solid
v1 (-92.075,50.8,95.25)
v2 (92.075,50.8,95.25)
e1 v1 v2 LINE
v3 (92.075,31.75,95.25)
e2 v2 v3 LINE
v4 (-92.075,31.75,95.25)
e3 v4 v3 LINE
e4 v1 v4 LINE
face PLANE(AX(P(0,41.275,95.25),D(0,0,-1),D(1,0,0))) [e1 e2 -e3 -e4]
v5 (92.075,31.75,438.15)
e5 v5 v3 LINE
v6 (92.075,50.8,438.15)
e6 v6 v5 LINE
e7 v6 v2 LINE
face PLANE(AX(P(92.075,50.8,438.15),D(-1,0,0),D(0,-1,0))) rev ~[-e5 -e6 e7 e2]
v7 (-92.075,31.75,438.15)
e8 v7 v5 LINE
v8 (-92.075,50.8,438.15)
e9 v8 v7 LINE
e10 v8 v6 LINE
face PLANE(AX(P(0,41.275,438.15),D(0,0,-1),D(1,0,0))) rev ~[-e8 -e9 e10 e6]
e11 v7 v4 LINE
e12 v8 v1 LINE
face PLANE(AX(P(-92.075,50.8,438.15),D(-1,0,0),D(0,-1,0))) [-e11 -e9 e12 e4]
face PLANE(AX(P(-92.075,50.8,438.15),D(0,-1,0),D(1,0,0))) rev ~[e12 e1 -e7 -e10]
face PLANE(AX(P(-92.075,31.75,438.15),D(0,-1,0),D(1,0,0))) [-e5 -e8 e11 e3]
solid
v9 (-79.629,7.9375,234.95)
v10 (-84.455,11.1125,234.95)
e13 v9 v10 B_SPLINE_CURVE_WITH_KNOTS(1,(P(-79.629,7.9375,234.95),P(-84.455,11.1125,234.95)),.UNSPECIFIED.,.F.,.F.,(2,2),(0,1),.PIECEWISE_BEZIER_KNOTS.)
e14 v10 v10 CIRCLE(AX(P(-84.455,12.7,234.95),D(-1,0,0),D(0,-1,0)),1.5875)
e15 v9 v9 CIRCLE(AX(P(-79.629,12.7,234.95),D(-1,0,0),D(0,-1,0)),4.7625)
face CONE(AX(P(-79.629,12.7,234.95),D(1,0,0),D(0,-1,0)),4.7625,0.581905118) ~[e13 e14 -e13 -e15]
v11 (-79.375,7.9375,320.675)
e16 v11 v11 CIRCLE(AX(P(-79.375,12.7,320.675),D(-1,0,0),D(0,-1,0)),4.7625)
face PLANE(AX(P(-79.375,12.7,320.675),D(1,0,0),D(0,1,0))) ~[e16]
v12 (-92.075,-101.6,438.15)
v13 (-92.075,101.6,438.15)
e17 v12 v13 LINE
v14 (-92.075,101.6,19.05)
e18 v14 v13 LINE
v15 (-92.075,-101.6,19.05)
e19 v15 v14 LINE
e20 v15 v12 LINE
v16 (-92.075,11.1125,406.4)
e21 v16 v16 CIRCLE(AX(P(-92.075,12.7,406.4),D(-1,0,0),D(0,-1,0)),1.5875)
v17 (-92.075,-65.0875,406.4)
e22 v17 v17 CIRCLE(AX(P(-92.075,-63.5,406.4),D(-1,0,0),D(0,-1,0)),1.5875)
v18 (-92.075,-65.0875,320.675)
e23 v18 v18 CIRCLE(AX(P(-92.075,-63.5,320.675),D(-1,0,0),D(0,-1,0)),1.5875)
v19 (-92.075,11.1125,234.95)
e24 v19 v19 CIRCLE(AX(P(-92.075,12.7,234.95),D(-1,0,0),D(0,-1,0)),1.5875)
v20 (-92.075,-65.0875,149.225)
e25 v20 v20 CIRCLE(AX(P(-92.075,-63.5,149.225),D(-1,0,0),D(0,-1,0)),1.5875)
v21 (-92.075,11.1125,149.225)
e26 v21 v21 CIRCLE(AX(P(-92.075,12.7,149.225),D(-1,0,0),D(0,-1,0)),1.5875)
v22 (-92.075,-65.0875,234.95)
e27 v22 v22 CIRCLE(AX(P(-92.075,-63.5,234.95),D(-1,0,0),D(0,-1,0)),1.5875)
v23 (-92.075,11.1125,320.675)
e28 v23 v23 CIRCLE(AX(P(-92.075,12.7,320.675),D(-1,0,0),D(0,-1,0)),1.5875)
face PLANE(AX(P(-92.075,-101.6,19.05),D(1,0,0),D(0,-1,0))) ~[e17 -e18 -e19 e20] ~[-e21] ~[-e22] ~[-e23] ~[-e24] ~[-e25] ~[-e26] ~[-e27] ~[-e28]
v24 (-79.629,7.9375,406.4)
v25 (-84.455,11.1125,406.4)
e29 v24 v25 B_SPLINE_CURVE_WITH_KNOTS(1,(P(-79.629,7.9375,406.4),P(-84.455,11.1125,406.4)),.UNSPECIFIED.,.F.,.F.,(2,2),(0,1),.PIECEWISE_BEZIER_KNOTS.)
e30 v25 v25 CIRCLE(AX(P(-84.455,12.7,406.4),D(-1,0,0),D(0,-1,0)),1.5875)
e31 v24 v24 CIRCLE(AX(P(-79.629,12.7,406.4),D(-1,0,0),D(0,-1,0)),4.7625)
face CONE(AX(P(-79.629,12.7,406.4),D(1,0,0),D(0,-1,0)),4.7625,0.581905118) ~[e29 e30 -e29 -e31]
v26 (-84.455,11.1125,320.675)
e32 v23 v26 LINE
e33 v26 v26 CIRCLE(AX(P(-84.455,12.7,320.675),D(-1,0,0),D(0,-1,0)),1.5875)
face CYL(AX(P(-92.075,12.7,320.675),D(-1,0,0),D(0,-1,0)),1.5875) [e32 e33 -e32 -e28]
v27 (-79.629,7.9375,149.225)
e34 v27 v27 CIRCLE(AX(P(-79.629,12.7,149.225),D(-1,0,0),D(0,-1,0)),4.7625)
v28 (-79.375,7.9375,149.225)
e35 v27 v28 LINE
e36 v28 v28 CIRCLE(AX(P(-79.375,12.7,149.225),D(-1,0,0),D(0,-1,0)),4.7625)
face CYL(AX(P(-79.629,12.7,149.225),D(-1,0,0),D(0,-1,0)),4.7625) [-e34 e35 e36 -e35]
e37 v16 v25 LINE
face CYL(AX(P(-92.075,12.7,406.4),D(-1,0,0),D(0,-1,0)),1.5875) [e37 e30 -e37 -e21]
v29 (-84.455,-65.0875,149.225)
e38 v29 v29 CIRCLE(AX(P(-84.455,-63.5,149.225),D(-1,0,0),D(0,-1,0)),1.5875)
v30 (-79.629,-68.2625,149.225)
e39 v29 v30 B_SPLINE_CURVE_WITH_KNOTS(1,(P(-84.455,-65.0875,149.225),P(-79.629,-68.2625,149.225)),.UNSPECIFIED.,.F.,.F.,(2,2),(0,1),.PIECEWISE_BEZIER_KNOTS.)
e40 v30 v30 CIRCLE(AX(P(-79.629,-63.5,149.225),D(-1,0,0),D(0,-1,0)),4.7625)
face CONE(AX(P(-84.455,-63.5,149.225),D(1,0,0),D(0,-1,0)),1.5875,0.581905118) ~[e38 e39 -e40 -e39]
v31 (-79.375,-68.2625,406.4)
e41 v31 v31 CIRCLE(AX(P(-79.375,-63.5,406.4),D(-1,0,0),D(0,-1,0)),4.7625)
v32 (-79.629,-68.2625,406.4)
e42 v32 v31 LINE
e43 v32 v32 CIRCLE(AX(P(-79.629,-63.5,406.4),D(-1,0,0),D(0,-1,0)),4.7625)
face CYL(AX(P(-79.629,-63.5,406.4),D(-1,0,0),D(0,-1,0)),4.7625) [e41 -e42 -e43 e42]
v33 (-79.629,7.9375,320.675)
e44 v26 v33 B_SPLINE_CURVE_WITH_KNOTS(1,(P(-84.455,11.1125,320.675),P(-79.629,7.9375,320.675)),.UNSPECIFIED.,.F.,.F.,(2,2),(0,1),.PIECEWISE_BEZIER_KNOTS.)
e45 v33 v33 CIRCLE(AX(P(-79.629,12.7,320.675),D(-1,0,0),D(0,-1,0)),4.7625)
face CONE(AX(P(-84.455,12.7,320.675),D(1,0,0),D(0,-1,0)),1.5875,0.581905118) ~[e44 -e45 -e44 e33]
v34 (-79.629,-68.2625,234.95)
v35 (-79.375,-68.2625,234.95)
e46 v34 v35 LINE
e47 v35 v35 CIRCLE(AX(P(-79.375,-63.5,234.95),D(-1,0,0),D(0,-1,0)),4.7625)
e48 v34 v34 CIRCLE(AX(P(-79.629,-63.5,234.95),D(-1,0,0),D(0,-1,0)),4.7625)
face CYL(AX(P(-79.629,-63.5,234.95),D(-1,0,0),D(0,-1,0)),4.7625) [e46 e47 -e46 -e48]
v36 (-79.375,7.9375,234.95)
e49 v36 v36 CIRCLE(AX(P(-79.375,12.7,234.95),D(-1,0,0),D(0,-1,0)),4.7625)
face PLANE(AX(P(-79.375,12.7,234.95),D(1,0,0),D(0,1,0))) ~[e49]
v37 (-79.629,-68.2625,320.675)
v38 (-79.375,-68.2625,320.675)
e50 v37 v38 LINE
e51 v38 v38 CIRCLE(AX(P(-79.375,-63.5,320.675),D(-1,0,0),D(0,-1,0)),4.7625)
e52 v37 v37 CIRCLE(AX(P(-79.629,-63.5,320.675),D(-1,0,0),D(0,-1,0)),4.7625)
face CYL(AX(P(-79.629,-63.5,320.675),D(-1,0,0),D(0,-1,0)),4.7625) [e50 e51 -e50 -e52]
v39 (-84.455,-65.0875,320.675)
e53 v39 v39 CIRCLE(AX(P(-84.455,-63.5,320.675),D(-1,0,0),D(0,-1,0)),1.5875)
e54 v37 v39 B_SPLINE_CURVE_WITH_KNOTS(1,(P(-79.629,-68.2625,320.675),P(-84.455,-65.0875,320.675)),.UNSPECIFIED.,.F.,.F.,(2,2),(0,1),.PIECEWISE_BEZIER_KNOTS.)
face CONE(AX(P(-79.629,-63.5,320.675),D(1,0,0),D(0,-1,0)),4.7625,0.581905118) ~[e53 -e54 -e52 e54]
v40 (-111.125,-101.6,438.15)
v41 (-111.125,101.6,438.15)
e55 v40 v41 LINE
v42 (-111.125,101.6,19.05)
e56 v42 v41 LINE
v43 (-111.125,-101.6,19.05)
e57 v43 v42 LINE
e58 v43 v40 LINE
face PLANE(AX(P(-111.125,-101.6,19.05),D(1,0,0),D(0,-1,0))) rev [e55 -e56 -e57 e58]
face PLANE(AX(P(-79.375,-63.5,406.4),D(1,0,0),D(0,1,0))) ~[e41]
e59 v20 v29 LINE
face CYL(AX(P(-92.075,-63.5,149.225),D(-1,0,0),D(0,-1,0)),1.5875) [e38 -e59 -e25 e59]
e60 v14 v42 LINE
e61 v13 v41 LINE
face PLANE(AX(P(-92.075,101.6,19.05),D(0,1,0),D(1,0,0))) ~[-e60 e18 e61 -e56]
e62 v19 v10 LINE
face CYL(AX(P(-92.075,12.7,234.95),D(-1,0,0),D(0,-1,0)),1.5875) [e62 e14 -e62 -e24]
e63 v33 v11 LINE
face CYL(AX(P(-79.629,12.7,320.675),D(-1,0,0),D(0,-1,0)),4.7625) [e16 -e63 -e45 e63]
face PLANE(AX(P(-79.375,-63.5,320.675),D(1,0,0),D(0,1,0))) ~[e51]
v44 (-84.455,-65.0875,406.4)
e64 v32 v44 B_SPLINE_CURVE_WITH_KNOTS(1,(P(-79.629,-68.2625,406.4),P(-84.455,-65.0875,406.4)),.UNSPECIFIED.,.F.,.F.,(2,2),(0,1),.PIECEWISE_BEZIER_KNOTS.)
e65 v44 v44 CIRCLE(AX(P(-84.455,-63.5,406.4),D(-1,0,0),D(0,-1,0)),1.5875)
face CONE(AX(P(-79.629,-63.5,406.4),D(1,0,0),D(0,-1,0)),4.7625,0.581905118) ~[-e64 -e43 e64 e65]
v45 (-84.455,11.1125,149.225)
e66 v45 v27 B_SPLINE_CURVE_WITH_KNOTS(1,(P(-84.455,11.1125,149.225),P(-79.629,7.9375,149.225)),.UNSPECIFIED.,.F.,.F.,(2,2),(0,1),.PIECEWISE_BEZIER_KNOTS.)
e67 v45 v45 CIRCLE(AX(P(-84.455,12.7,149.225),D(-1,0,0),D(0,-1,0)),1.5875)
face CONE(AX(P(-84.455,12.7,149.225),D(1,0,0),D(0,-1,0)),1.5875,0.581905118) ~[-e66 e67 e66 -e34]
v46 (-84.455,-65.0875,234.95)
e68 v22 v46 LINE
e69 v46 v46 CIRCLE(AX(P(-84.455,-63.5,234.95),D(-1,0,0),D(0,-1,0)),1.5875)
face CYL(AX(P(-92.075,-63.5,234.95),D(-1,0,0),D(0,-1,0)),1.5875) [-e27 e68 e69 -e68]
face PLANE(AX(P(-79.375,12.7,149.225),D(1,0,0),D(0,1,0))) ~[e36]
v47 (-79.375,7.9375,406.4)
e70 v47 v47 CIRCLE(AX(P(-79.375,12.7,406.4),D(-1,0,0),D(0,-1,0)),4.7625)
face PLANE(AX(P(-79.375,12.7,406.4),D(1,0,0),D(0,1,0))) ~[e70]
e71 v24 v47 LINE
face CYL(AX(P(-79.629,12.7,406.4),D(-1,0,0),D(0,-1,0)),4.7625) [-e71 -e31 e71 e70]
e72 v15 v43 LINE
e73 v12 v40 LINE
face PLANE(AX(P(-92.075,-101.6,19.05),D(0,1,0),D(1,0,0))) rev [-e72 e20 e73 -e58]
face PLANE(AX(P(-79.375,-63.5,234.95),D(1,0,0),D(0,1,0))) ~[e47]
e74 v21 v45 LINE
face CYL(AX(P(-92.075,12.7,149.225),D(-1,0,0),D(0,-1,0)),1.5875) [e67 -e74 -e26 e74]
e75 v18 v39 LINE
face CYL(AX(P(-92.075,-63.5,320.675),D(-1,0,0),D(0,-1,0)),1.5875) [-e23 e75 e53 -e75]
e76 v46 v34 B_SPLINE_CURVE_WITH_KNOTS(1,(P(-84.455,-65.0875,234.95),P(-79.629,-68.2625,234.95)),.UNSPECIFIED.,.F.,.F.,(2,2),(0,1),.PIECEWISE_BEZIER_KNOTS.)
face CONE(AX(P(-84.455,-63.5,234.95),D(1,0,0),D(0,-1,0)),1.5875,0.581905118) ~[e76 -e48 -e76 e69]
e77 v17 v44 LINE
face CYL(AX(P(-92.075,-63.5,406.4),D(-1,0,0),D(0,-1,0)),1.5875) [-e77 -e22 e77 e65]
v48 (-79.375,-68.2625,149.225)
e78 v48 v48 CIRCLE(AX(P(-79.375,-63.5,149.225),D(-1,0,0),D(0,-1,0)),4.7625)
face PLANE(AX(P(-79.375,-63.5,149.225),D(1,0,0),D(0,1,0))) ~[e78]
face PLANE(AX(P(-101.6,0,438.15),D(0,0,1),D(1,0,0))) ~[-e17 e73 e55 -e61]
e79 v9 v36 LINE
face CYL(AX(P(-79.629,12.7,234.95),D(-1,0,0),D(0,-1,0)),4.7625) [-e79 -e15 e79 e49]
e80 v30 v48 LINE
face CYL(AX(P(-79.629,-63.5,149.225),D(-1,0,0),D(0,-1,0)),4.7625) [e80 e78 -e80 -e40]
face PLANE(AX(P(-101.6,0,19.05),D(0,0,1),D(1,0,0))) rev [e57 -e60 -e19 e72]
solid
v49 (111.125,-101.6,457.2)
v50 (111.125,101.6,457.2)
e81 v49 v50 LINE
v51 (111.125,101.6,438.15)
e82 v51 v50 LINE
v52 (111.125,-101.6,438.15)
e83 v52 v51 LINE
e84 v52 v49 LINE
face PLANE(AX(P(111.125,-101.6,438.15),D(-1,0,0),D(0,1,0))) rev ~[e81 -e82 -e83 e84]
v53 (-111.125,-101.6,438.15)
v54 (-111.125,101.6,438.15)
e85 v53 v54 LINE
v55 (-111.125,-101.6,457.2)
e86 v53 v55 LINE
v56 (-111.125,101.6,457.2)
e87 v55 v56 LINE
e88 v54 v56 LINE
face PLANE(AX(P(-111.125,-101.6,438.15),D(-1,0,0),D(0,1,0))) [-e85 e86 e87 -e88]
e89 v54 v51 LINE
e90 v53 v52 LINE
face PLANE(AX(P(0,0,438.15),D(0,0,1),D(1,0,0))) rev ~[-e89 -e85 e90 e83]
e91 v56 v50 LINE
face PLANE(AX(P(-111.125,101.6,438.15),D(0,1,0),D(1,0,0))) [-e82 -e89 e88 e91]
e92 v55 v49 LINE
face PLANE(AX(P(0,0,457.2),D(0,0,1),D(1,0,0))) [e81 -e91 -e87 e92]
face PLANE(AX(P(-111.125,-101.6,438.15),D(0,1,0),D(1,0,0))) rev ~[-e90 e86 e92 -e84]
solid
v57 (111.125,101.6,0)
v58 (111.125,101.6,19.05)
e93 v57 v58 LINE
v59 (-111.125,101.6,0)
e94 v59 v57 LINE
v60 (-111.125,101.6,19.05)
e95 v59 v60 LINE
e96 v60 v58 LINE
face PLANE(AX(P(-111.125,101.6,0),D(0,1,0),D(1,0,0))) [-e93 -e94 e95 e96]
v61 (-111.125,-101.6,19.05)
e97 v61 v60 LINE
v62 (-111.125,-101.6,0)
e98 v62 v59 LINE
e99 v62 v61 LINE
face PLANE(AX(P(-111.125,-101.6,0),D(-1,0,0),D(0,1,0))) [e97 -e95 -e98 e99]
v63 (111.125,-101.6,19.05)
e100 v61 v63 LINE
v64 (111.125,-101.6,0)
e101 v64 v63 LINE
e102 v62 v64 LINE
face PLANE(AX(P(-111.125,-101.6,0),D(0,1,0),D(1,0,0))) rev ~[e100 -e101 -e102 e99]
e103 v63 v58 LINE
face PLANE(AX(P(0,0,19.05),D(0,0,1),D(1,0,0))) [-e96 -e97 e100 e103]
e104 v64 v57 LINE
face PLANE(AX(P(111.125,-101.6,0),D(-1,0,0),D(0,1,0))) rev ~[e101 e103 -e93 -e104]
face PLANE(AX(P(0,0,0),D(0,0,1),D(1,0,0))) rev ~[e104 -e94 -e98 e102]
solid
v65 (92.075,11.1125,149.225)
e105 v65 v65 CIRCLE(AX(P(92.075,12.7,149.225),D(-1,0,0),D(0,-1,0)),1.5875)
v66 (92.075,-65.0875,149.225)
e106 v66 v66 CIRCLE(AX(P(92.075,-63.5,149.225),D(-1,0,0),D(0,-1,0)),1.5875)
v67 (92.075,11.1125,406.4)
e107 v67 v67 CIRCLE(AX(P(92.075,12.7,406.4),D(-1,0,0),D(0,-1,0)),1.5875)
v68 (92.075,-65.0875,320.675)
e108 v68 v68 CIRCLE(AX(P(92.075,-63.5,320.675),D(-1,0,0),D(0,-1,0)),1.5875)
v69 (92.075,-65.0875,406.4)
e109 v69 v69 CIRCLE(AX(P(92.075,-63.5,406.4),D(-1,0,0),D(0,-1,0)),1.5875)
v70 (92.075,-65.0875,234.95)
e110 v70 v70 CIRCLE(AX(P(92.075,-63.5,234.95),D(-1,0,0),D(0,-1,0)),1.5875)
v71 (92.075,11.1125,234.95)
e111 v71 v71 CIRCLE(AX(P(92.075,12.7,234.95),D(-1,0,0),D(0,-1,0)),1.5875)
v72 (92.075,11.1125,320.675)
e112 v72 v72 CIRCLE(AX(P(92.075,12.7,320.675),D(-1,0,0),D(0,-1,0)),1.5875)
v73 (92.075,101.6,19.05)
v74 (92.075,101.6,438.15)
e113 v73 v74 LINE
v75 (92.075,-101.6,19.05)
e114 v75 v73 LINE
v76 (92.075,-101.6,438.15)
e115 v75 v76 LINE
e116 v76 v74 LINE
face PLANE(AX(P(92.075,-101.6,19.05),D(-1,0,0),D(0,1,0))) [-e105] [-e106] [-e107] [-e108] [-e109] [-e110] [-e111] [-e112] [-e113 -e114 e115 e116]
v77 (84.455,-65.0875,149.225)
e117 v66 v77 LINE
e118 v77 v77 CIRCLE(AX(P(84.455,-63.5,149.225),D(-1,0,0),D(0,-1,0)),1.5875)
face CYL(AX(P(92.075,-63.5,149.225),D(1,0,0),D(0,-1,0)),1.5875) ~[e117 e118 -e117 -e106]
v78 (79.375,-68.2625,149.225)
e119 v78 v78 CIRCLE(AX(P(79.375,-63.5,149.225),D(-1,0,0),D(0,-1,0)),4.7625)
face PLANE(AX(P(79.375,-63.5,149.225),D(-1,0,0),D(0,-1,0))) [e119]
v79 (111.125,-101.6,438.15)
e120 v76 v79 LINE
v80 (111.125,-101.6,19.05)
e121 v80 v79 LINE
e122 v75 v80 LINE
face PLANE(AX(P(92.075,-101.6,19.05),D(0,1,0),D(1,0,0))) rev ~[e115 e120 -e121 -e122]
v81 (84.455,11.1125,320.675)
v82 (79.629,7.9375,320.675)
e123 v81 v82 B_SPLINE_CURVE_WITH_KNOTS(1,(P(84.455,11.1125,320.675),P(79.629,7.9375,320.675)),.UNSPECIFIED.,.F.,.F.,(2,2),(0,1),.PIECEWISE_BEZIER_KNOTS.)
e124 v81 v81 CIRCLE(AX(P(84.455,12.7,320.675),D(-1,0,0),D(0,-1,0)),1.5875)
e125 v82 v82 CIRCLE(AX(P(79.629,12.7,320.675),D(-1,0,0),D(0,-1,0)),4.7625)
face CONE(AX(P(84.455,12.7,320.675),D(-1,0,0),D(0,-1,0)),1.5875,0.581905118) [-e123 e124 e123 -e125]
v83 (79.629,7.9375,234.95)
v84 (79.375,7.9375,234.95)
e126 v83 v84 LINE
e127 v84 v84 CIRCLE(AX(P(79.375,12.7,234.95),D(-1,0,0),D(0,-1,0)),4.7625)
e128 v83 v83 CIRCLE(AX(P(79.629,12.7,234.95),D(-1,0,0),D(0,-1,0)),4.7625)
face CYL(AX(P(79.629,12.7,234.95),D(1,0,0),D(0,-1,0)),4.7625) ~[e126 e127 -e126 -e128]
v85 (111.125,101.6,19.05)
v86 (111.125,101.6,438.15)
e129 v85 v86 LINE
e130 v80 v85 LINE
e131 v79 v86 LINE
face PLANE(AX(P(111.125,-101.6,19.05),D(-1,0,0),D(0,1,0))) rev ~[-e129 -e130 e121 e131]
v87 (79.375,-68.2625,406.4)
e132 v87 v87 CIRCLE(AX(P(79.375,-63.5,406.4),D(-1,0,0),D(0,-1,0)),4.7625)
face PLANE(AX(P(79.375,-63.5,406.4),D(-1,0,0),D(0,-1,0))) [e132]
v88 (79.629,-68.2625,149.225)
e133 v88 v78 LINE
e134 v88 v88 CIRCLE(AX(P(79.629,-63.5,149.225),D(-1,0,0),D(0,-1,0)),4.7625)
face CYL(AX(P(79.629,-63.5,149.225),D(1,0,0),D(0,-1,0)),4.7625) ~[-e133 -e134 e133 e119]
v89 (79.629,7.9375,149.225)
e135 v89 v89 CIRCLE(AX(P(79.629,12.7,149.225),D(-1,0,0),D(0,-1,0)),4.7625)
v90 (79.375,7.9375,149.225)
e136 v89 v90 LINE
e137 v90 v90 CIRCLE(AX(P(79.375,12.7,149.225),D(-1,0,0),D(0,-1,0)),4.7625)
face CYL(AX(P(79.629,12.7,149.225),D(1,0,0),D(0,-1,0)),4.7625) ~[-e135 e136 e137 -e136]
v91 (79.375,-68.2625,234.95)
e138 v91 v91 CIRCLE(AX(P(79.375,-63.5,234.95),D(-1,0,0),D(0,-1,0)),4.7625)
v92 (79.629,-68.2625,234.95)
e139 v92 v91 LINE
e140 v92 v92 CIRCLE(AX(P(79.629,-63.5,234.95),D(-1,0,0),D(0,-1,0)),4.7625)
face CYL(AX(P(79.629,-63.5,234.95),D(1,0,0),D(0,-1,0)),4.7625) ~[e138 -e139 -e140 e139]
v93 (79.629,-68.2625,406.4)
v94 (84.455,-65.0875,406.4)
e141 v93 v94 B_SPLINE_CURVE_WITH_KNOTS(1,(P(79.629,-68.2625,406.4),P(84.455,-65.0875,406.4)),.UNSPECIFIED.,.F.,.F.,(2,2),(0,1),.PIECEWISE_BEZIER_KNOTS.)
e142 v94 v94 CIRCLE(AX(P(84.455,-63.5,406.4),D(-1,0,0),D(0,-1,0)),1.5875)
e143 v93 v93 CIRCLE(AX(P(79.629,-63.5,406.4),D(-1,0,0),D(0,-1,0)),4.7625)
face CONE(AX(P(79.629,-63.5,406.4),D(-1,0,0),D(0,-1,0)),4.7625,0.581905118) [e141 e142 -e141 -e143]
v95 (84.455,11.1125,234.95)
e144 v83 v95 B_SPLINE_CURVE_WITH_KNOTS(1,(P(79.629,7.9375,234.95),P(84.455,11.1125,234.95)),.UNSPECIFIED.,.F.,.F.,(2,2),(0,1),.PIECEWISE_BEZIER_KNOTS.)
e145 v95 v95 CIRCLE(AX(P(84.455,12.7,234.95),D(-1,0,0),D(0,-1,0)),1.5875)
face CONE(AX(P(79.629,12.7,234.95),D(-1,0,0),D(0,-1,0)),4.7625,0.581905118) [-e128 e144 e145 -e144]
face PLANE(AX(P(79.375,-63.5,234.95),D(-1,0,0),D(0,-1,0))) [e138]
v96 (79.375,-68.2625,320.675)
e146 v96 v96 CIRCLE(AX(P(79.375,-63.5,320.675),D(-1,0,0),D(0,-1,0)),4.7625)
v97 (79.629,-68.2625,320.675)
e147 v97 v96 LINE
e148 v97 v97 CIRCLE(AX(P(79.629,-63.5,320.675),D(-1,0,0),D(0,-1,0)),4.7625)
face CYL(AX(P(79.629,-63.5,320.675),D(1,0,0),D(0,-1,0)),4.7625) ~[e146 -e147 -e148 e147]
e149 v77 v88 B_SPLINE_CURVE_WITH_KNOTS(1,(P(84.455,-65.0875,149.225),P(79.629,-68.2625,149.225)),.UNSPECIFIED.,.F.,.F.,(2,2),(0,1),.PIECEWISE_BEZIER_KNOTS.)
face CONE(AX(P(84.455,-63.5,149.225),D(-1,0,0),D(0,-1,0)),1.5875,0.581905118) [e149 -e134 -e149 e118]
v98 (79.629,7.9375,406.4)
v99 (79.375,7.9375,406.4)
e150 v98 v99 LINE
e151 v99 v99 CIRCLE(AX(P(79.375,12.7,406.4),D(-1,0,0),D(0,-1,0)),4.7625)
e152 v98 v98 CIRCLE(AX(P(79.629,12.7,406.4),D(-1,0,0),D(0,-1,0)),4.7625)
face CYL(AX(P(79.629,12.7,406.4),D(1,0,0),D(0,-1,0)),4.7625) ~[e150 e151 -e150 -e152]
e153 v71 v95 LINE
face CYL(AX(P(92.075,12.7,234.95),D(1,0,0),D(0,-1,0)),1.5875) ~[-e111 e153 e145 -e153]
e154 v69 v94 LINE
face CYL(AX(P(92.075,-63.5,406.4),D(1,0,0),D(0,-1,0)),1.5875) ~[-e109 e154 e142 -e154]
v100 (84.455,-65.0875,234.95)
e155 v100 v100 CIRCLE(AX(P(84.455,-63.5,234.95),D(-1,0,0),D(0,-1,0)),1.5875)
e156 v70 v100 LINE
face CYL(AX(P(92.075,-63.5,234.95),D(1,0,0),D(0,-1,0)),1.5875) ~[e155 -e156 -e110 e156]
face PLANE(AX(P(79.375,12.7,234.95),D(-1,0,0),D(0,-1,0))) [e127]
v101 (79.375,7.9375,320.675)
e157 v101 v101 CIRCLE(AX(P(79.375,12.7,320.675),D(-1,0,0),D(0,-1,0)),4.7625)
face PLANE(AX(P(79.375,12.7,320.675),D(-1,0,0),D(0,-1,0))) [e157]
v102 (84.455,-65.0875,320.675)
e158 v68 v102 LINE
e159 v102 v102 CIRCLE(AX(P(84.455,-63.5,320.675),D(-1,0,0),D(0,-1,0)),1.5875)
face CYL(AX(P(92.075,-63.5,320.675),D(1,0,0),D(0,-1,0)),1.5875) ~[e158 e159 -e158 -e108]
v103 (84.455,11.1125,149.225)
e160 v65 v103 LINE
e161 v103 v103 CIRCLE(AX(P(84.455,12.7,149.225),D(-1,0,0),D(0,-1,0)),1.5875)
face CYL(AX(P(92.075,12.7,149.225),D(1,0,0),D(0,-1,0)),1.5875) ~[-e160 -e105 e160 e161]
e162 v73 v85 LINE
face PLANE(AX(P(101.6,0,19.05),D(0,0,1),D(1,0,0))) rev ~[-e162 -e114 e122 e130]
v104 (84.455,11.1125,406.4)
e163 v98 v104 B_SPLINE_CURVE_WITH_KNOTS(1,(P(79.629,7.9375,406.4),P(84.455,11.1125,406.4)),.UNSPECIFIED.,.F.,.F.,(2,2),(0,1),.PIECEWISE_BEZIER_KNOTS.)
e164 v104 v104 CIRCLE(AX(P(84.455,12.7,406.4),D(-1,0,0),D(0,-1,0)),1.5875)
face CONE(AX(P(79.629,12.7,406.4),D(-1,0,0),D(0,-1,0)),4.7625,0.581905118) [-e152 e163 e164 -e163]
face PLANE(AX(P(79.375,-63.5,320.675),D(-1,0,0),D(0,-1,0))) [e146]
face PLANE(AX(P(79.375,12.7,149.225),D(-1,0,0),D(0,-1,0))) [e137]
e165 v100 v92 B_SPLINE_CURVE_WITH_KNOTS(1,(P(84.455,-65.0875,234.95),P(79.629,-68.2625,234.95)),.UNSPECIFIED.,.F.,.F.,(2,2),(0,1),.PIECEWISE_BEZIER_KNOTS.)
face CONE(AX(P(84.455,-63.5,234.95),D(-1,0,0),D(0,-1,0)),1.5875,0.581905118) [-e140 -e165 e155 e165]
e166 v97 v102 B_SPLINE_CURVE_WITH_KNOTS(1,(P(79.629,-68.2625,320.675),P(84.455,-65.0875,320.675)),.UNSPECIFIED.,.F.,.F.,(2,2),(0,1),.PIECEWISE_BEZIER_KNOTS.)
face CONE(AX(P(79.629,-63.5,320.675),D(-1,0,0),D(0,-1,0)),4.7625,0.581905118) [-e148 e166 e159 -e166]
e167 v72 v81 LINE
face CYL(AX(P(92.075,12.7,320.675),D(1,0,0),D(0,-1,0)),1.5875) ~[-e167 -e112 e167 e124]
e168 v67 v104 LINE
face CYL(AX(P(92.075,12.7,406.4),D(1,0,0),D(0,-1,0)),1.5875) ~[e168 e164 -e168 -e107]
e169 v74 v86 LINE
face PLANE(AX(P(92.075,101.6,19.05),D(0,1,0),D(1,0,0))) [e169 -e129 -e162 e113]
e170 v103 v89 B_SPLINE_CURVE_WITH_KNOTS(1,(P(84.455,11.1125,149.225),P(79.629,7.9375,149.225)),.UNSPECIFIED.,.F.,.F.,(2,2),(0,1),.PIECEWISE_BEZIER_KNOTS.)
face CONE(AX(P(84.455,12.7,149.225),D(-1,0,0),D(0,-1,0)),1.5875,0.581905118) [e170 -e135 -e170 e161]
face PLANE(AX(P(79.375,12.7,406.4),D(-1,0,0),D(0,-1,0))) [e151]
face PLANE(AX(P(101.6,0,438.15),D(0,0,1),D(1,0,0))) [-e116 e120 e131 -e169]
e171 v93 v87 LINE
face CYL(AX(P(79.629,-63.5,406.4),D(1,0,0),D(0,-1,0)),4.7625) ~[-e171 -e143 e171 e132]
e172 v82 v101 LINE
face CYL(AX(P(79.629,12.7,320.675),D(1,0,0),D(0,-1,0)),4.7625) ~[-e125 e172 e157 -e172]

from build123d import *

# Parameters (mm, degrees)
F0_W       = 222.25
F0_H       = 203.2
F1_DEPTH   = 19.05
F2_W       = 19.05
F2_H       = 203.2
F3_DEPTH   = 419.1
F4_W       = 222.25
F4_H       = 203.2
F5_DEPTH   = 19.05
F6_W       = 184.15
F6_H       = 19.05
F7_DEPTH   = 342.9
F8_R       = 1.5875
F9_DEPTH   = 7.62
F11_START  = 4.826
F10_R      = 4.7625
F11_DEPTH  = 0.254
F11_FACE_R = 4.7625
F9_FACE_R  = 1.5875


with BuildPart() as f1:
    # F0 (on Top) → F1 (new body)
    with BuildSketch(Plane.XY):
        Rectangle(F0_W, F0_H)
    extrude(amount=F1_DEPTH)


with BuildPart() as f3:
    # F2 (on face) → F3 (new body)
    with BuildSketch(Plane.XY.offset(19.05)):
        with Locations((-101.6, 0)):
            Rectangle(F2_W, F2_H)
    extrude(amount=F3_DEPTH)


with BuildPart() as f3b:
    # F2 (on face) → F3, piece 2 (new body)
    with BuildSketch(Plane.XY.offset(19.05)):
        with Locations((101.6, 0)):
            Rectangle(F2_W, F2_H)
    extrude(amount=F3_DEPTH)

    # F8 (on face) → F9 (join)
    with BuildSketch(Plane(origin=(92.075, 0, 0), x_dir=(0, -1, 0), z_dir=(-1, 0, 0))):
        with Locations((-12.7, 406.4)):
            Circle(F8_R)
        with Locations((63.5, 406.4)):
            Circle(F8_R)
        with Locations((-12.7, 320.675)):
            Circle(F8_R)
        with Locations((63.5, 320.675)):
            Circle(F8_R)
        with Locations((-12.7, 234.95)):
            Circle(F8_R)
        with Locations((63.5, 234.95)):
            Circle(F8_R)
        with Locations((-12.7, 149.225)):
            Circle(F8_R)
        with Locations((63.5, 149.225)):
            Circle(F8_R)
    extrude(amount=F9_DEPTH)



with BuildPart() as f5:
    # F4 (on face) → F5 (new body)
    with BuildSketch(Plane.XY.offset(438.15)):
        Rectangle(F4_W, F4_H)
    extrude(amount=F5_DEPTH)


with BuildPart() as f7:
    # F6 (on face) → F7 (new body)
    with BuildSketch(Plane(origin=(0, 0, 438.15), x_dir=(1, 0, 0), z_dir=(0, 0, -1))):
        with Locations((0, -41.275)):
            Rectangle(F6_W, F6_H)
    extrude(amount=F7_DEPTH)


with BuildPart() as f11:
    # F10 (on face) → F11 (new body)
    with BuildSketch(Plane(origin=(84.455, 0, 0), x_dir=(0, -1, 0), z_dir=(-1, 0, 0)).offset(F11_START)):
        with Locations((-12.7, 406.4)):
            Circle(F10_R)
    extrude(amount=F11_DEPTH)


with BuildPart() as f11b:
    # F10 (on face) → F11, piece 2 (new body)
    with BuildSketch(Plane(origin=(84.455, 0, 0), x_dir=(0, -1, 0), z_dir=(-1, 0, 0)).offset(F11_START)):
        with Locations((63.5, 406.4)):
            Circle(F10_R)
    extrude(amount=F11_DEPTH)


with BuildPart() as f11c:
    # F10 (on face) → F11, piece 3 (new body)
    with BuildSketch(Plane(origin=(84.455, 0, 0), x_dir=(0, -1, 0), z_dir=(-1, 0, 0)).offset(F11_START)):
        with Locations((63.5, 320.675)):
            Circle(F10_R)
    extrude(amount=F11_DEPTH)


with BuildPart() as f11d:
    # F10 (on face) → F11, piece 4 (new body)
    with BuildSketch(Plane(origin=(84.455, 0, 0), x_dir=(0, -1, 0), z_dir=(-1, 0, 0)).offset(F11_START)):
        with Locations((-12.7, 320.675)):
            Circle(F10_R)
    extrude(amount=F11_DEPTH)


with BuildPart() as f11e:
    # F10 (on face) → F11, piece 5 (new body)
    with BuildSketch(Plane(origin=(84.455, 0, 0), x_dir=(0, -1, 0), z_dir=(-1, 0, 0)).offset(F11_START)):
        with Locations((-12.7, 234.95)):
            Circle(F10_R)
    extrude(amount=F11_DEPTH)


with BuildPart() as f11f:
    # F10 (on face) → F11, piece 6 (new body)
    with BuildSketch(Plane(origin=(84.455, 0, 0), x_dir=(0, -1, 0), z_dir=(-1, 0, 0)).offset(F11_START)):
        with Locations((63.5, 234.95)):
            Circle(F10_R)
    extrude(amount=F11_DEPTH)


with BuildPart() as f11g:
    # F10 (on face) → F11, piece 7 (new body)
    with BuildSketch(Plane(origin=(84.455, 0, 0), x_dir=(0, -1, 0), z_dir=(-1, 0, 0)).offset(F11_START)):
        with Locations((-12.7, 149.225)):
            Circle(F10_R)
    extrude(amount=F11_DEPTH)


with BuildPart() as f11h:
    # F10 (on face) → F11, piece 8 (new body)
    with BuildSketch(Plane(origin=(84.455, 0, 0), x_dir=(0, -1, 0), z_dir=(-1, 0, 0)).offset(F11_START)):
        with Locations((63.5, 149.225)):
            Circle(F10_R)
    extrude(amount=F11_DEPTH)


with BuildPart() as f3b_1:
    add(f3b.part)

    add(f11b.part)  # F12 merges F11b
    # F11_face (on face) → F12 section 0
    with BuildSketch(Plane(origin=(79.629, -63.5, 406.4), x_dir=(0, -1, 0), z_dir=(1, 0, 0))):
        Circle(F11_FACE_R)
    # F9_face (on face) → F12 section 1
    with BuildSketch(Plane(origin=(84.455, 12.7, 406.4), x_dir=(0, -1, 0), z_dir=(-1, 0, 0))):
        with Locations((76.2, 0)):
            Circle(F9_FACE_R)
    loft()


    add(f11.part)  # F13 merges F11
    # F11_face (on face) → F13 section 0
    with BuildSketch(Plane(origin=(79.629, -63.5, 406.4), x_dir=(0, -1, 0), z_dir=(1, 0, 0))):
        with Locations((-76.2, 0)):
            Circle(F11_FACE_R)
    # F9_face (on face) → F13 section 1
    with BuildSketch(Plane(origin=(84.455, 12.7, 406.4), x_dir=(0, -1, 0), z_dir=(-1, 0, 0))):
        Circle(F9_FACE_R)
    loft()


    add(f11c.part)  # F14 merges F11c
    # F11_face (on face) → F14 section 0
    with BuildSketch(Plane(origin=(79.629, -63.5, 406.4), x_dir=(0, -1, 0), z_dir=(1, 0, 0))):
        with Locations((0, 85.725)):
            Circle(F11_FACE_R)
    # F9_face (on face) → F14 section 1
    with BuildSketch(Plane(origin=(84.455, 12.7, 406.4), x_dir=(0, -1, 0), z_dir=(-1, 0, 0))):
        with Locations((76.2, -85.725)):
            Circle(F9_FACE_R)
    loft()


    add(f11d.part)  # F15 merges F11d
    # F9_face (on face) → F15 section 0
    with BuildSketch(Plane(origin=(84.455, 12.7, 406.4), x_dir=(0, -1, 0), z_dir=(-1, 0, 0))):
        with Locations((0, -85.725)):
            Circle(F9_FACE_R)
    # F11_face (on face) → F15 section 1
    with BuildSketch(Plane(origin=(79.629, -63.5, 406.4), x_dir=(0, -1, 0), z_dir=(1, 0, 0))):
        with Locations((-76.2, 85.725)):
            Circle(F11_FACE_R)
    loft()


    add(f11f.part)  # F16 merges F11f
    # F9_face (on face) → F16 section 0
    with BuildSketch(Plane(origin=(84.455, 12.7, 406.4), x_dir=(0, -1, 0), z_dir=(-1, 0, 0))):
        with Locations((76.2, -171.45)):
            Circle(F9_FACE_R)
    # F11_face (on face) → F16 section 1
    with BuildSketch(Plane(origin=(79.629, -63.5, 406.4), x_dir=(0, -1, 0), z_dir=(1, 0, 0))):
        with Locations((0, 171.45)):
            Circle(F11_FACE_R)
    loft()


    add(f11e.part)  # F17 merges F11e
    # F11_face (on face) → F17 section 0
    with BuildSketch(Plane(origin=(79.629, -63.5, 406.4), x_dir=(0, -1, 0), z_dir=(1, 0, 0))):
        with Locations((-76.2, 171.45)):
            Circle(F11_FACE_R)
    # F9_face (on face) → F17 section 1
    with BuildSketch(Plane(origin=(84.455, 12.7, 406.4), x_dir=(0, -1, 0), z_dir=(-1, 0, 0))):
        with Locations((0, -171.45)):
            Circle(F9_FACE_R)
    loft()


    add(f11g.part)  # F18 merges F11g
    # F9_face (on face) → F18 section 0
    with BuildSketch(Plane(origin=(84.455, 12.7, 406.4), x_dir=(0, -1, 0), z_dir=(-1, 0, 0))):
        with Locations((0, -257.175)):
            Circle(F9_FACE_R)
    # F11_face (on face) → F18 section 1
    with BuildSketch(Plane(origin=(79.629, -63.5, 406.4), x_dir=(0, -1, 0), z_dir=(1, 0, 0))):
        with Locations((-76.2, 257.175)):
            Circle(F11_FACE_R)
    loft()


    add(f11h.part)  # F19 merges F11h
    # F9_face (on face) → F19 section 0
    with BuildSketch(Plane(origin=(84.455, 12.7, 406.4), x_dir=(0, -1, 0), z_dir=(-1, 0, 0))):
        with Locations((76.2, -257.175)):
            Circle(F9_FACE_R)
    # F11_face (on face) → F19 section 1
    with BuildSketch(Plane(origin=(79.629, -63.5, 406.4), x_dir=(0, -1, 0), z_dir=(1, 0, 0))):
        with Locations((0, 257.175)):
            Circle(F11_FACE_R)
    loft()


with BuildPart() as f20_1:
    # F20: instance of F3b
    add(f3b_1.part.mirror(Plane.YZ))


solid = Compound([f1.part, f5.part, f7.part, f3b_1.part, f20_1.part])
